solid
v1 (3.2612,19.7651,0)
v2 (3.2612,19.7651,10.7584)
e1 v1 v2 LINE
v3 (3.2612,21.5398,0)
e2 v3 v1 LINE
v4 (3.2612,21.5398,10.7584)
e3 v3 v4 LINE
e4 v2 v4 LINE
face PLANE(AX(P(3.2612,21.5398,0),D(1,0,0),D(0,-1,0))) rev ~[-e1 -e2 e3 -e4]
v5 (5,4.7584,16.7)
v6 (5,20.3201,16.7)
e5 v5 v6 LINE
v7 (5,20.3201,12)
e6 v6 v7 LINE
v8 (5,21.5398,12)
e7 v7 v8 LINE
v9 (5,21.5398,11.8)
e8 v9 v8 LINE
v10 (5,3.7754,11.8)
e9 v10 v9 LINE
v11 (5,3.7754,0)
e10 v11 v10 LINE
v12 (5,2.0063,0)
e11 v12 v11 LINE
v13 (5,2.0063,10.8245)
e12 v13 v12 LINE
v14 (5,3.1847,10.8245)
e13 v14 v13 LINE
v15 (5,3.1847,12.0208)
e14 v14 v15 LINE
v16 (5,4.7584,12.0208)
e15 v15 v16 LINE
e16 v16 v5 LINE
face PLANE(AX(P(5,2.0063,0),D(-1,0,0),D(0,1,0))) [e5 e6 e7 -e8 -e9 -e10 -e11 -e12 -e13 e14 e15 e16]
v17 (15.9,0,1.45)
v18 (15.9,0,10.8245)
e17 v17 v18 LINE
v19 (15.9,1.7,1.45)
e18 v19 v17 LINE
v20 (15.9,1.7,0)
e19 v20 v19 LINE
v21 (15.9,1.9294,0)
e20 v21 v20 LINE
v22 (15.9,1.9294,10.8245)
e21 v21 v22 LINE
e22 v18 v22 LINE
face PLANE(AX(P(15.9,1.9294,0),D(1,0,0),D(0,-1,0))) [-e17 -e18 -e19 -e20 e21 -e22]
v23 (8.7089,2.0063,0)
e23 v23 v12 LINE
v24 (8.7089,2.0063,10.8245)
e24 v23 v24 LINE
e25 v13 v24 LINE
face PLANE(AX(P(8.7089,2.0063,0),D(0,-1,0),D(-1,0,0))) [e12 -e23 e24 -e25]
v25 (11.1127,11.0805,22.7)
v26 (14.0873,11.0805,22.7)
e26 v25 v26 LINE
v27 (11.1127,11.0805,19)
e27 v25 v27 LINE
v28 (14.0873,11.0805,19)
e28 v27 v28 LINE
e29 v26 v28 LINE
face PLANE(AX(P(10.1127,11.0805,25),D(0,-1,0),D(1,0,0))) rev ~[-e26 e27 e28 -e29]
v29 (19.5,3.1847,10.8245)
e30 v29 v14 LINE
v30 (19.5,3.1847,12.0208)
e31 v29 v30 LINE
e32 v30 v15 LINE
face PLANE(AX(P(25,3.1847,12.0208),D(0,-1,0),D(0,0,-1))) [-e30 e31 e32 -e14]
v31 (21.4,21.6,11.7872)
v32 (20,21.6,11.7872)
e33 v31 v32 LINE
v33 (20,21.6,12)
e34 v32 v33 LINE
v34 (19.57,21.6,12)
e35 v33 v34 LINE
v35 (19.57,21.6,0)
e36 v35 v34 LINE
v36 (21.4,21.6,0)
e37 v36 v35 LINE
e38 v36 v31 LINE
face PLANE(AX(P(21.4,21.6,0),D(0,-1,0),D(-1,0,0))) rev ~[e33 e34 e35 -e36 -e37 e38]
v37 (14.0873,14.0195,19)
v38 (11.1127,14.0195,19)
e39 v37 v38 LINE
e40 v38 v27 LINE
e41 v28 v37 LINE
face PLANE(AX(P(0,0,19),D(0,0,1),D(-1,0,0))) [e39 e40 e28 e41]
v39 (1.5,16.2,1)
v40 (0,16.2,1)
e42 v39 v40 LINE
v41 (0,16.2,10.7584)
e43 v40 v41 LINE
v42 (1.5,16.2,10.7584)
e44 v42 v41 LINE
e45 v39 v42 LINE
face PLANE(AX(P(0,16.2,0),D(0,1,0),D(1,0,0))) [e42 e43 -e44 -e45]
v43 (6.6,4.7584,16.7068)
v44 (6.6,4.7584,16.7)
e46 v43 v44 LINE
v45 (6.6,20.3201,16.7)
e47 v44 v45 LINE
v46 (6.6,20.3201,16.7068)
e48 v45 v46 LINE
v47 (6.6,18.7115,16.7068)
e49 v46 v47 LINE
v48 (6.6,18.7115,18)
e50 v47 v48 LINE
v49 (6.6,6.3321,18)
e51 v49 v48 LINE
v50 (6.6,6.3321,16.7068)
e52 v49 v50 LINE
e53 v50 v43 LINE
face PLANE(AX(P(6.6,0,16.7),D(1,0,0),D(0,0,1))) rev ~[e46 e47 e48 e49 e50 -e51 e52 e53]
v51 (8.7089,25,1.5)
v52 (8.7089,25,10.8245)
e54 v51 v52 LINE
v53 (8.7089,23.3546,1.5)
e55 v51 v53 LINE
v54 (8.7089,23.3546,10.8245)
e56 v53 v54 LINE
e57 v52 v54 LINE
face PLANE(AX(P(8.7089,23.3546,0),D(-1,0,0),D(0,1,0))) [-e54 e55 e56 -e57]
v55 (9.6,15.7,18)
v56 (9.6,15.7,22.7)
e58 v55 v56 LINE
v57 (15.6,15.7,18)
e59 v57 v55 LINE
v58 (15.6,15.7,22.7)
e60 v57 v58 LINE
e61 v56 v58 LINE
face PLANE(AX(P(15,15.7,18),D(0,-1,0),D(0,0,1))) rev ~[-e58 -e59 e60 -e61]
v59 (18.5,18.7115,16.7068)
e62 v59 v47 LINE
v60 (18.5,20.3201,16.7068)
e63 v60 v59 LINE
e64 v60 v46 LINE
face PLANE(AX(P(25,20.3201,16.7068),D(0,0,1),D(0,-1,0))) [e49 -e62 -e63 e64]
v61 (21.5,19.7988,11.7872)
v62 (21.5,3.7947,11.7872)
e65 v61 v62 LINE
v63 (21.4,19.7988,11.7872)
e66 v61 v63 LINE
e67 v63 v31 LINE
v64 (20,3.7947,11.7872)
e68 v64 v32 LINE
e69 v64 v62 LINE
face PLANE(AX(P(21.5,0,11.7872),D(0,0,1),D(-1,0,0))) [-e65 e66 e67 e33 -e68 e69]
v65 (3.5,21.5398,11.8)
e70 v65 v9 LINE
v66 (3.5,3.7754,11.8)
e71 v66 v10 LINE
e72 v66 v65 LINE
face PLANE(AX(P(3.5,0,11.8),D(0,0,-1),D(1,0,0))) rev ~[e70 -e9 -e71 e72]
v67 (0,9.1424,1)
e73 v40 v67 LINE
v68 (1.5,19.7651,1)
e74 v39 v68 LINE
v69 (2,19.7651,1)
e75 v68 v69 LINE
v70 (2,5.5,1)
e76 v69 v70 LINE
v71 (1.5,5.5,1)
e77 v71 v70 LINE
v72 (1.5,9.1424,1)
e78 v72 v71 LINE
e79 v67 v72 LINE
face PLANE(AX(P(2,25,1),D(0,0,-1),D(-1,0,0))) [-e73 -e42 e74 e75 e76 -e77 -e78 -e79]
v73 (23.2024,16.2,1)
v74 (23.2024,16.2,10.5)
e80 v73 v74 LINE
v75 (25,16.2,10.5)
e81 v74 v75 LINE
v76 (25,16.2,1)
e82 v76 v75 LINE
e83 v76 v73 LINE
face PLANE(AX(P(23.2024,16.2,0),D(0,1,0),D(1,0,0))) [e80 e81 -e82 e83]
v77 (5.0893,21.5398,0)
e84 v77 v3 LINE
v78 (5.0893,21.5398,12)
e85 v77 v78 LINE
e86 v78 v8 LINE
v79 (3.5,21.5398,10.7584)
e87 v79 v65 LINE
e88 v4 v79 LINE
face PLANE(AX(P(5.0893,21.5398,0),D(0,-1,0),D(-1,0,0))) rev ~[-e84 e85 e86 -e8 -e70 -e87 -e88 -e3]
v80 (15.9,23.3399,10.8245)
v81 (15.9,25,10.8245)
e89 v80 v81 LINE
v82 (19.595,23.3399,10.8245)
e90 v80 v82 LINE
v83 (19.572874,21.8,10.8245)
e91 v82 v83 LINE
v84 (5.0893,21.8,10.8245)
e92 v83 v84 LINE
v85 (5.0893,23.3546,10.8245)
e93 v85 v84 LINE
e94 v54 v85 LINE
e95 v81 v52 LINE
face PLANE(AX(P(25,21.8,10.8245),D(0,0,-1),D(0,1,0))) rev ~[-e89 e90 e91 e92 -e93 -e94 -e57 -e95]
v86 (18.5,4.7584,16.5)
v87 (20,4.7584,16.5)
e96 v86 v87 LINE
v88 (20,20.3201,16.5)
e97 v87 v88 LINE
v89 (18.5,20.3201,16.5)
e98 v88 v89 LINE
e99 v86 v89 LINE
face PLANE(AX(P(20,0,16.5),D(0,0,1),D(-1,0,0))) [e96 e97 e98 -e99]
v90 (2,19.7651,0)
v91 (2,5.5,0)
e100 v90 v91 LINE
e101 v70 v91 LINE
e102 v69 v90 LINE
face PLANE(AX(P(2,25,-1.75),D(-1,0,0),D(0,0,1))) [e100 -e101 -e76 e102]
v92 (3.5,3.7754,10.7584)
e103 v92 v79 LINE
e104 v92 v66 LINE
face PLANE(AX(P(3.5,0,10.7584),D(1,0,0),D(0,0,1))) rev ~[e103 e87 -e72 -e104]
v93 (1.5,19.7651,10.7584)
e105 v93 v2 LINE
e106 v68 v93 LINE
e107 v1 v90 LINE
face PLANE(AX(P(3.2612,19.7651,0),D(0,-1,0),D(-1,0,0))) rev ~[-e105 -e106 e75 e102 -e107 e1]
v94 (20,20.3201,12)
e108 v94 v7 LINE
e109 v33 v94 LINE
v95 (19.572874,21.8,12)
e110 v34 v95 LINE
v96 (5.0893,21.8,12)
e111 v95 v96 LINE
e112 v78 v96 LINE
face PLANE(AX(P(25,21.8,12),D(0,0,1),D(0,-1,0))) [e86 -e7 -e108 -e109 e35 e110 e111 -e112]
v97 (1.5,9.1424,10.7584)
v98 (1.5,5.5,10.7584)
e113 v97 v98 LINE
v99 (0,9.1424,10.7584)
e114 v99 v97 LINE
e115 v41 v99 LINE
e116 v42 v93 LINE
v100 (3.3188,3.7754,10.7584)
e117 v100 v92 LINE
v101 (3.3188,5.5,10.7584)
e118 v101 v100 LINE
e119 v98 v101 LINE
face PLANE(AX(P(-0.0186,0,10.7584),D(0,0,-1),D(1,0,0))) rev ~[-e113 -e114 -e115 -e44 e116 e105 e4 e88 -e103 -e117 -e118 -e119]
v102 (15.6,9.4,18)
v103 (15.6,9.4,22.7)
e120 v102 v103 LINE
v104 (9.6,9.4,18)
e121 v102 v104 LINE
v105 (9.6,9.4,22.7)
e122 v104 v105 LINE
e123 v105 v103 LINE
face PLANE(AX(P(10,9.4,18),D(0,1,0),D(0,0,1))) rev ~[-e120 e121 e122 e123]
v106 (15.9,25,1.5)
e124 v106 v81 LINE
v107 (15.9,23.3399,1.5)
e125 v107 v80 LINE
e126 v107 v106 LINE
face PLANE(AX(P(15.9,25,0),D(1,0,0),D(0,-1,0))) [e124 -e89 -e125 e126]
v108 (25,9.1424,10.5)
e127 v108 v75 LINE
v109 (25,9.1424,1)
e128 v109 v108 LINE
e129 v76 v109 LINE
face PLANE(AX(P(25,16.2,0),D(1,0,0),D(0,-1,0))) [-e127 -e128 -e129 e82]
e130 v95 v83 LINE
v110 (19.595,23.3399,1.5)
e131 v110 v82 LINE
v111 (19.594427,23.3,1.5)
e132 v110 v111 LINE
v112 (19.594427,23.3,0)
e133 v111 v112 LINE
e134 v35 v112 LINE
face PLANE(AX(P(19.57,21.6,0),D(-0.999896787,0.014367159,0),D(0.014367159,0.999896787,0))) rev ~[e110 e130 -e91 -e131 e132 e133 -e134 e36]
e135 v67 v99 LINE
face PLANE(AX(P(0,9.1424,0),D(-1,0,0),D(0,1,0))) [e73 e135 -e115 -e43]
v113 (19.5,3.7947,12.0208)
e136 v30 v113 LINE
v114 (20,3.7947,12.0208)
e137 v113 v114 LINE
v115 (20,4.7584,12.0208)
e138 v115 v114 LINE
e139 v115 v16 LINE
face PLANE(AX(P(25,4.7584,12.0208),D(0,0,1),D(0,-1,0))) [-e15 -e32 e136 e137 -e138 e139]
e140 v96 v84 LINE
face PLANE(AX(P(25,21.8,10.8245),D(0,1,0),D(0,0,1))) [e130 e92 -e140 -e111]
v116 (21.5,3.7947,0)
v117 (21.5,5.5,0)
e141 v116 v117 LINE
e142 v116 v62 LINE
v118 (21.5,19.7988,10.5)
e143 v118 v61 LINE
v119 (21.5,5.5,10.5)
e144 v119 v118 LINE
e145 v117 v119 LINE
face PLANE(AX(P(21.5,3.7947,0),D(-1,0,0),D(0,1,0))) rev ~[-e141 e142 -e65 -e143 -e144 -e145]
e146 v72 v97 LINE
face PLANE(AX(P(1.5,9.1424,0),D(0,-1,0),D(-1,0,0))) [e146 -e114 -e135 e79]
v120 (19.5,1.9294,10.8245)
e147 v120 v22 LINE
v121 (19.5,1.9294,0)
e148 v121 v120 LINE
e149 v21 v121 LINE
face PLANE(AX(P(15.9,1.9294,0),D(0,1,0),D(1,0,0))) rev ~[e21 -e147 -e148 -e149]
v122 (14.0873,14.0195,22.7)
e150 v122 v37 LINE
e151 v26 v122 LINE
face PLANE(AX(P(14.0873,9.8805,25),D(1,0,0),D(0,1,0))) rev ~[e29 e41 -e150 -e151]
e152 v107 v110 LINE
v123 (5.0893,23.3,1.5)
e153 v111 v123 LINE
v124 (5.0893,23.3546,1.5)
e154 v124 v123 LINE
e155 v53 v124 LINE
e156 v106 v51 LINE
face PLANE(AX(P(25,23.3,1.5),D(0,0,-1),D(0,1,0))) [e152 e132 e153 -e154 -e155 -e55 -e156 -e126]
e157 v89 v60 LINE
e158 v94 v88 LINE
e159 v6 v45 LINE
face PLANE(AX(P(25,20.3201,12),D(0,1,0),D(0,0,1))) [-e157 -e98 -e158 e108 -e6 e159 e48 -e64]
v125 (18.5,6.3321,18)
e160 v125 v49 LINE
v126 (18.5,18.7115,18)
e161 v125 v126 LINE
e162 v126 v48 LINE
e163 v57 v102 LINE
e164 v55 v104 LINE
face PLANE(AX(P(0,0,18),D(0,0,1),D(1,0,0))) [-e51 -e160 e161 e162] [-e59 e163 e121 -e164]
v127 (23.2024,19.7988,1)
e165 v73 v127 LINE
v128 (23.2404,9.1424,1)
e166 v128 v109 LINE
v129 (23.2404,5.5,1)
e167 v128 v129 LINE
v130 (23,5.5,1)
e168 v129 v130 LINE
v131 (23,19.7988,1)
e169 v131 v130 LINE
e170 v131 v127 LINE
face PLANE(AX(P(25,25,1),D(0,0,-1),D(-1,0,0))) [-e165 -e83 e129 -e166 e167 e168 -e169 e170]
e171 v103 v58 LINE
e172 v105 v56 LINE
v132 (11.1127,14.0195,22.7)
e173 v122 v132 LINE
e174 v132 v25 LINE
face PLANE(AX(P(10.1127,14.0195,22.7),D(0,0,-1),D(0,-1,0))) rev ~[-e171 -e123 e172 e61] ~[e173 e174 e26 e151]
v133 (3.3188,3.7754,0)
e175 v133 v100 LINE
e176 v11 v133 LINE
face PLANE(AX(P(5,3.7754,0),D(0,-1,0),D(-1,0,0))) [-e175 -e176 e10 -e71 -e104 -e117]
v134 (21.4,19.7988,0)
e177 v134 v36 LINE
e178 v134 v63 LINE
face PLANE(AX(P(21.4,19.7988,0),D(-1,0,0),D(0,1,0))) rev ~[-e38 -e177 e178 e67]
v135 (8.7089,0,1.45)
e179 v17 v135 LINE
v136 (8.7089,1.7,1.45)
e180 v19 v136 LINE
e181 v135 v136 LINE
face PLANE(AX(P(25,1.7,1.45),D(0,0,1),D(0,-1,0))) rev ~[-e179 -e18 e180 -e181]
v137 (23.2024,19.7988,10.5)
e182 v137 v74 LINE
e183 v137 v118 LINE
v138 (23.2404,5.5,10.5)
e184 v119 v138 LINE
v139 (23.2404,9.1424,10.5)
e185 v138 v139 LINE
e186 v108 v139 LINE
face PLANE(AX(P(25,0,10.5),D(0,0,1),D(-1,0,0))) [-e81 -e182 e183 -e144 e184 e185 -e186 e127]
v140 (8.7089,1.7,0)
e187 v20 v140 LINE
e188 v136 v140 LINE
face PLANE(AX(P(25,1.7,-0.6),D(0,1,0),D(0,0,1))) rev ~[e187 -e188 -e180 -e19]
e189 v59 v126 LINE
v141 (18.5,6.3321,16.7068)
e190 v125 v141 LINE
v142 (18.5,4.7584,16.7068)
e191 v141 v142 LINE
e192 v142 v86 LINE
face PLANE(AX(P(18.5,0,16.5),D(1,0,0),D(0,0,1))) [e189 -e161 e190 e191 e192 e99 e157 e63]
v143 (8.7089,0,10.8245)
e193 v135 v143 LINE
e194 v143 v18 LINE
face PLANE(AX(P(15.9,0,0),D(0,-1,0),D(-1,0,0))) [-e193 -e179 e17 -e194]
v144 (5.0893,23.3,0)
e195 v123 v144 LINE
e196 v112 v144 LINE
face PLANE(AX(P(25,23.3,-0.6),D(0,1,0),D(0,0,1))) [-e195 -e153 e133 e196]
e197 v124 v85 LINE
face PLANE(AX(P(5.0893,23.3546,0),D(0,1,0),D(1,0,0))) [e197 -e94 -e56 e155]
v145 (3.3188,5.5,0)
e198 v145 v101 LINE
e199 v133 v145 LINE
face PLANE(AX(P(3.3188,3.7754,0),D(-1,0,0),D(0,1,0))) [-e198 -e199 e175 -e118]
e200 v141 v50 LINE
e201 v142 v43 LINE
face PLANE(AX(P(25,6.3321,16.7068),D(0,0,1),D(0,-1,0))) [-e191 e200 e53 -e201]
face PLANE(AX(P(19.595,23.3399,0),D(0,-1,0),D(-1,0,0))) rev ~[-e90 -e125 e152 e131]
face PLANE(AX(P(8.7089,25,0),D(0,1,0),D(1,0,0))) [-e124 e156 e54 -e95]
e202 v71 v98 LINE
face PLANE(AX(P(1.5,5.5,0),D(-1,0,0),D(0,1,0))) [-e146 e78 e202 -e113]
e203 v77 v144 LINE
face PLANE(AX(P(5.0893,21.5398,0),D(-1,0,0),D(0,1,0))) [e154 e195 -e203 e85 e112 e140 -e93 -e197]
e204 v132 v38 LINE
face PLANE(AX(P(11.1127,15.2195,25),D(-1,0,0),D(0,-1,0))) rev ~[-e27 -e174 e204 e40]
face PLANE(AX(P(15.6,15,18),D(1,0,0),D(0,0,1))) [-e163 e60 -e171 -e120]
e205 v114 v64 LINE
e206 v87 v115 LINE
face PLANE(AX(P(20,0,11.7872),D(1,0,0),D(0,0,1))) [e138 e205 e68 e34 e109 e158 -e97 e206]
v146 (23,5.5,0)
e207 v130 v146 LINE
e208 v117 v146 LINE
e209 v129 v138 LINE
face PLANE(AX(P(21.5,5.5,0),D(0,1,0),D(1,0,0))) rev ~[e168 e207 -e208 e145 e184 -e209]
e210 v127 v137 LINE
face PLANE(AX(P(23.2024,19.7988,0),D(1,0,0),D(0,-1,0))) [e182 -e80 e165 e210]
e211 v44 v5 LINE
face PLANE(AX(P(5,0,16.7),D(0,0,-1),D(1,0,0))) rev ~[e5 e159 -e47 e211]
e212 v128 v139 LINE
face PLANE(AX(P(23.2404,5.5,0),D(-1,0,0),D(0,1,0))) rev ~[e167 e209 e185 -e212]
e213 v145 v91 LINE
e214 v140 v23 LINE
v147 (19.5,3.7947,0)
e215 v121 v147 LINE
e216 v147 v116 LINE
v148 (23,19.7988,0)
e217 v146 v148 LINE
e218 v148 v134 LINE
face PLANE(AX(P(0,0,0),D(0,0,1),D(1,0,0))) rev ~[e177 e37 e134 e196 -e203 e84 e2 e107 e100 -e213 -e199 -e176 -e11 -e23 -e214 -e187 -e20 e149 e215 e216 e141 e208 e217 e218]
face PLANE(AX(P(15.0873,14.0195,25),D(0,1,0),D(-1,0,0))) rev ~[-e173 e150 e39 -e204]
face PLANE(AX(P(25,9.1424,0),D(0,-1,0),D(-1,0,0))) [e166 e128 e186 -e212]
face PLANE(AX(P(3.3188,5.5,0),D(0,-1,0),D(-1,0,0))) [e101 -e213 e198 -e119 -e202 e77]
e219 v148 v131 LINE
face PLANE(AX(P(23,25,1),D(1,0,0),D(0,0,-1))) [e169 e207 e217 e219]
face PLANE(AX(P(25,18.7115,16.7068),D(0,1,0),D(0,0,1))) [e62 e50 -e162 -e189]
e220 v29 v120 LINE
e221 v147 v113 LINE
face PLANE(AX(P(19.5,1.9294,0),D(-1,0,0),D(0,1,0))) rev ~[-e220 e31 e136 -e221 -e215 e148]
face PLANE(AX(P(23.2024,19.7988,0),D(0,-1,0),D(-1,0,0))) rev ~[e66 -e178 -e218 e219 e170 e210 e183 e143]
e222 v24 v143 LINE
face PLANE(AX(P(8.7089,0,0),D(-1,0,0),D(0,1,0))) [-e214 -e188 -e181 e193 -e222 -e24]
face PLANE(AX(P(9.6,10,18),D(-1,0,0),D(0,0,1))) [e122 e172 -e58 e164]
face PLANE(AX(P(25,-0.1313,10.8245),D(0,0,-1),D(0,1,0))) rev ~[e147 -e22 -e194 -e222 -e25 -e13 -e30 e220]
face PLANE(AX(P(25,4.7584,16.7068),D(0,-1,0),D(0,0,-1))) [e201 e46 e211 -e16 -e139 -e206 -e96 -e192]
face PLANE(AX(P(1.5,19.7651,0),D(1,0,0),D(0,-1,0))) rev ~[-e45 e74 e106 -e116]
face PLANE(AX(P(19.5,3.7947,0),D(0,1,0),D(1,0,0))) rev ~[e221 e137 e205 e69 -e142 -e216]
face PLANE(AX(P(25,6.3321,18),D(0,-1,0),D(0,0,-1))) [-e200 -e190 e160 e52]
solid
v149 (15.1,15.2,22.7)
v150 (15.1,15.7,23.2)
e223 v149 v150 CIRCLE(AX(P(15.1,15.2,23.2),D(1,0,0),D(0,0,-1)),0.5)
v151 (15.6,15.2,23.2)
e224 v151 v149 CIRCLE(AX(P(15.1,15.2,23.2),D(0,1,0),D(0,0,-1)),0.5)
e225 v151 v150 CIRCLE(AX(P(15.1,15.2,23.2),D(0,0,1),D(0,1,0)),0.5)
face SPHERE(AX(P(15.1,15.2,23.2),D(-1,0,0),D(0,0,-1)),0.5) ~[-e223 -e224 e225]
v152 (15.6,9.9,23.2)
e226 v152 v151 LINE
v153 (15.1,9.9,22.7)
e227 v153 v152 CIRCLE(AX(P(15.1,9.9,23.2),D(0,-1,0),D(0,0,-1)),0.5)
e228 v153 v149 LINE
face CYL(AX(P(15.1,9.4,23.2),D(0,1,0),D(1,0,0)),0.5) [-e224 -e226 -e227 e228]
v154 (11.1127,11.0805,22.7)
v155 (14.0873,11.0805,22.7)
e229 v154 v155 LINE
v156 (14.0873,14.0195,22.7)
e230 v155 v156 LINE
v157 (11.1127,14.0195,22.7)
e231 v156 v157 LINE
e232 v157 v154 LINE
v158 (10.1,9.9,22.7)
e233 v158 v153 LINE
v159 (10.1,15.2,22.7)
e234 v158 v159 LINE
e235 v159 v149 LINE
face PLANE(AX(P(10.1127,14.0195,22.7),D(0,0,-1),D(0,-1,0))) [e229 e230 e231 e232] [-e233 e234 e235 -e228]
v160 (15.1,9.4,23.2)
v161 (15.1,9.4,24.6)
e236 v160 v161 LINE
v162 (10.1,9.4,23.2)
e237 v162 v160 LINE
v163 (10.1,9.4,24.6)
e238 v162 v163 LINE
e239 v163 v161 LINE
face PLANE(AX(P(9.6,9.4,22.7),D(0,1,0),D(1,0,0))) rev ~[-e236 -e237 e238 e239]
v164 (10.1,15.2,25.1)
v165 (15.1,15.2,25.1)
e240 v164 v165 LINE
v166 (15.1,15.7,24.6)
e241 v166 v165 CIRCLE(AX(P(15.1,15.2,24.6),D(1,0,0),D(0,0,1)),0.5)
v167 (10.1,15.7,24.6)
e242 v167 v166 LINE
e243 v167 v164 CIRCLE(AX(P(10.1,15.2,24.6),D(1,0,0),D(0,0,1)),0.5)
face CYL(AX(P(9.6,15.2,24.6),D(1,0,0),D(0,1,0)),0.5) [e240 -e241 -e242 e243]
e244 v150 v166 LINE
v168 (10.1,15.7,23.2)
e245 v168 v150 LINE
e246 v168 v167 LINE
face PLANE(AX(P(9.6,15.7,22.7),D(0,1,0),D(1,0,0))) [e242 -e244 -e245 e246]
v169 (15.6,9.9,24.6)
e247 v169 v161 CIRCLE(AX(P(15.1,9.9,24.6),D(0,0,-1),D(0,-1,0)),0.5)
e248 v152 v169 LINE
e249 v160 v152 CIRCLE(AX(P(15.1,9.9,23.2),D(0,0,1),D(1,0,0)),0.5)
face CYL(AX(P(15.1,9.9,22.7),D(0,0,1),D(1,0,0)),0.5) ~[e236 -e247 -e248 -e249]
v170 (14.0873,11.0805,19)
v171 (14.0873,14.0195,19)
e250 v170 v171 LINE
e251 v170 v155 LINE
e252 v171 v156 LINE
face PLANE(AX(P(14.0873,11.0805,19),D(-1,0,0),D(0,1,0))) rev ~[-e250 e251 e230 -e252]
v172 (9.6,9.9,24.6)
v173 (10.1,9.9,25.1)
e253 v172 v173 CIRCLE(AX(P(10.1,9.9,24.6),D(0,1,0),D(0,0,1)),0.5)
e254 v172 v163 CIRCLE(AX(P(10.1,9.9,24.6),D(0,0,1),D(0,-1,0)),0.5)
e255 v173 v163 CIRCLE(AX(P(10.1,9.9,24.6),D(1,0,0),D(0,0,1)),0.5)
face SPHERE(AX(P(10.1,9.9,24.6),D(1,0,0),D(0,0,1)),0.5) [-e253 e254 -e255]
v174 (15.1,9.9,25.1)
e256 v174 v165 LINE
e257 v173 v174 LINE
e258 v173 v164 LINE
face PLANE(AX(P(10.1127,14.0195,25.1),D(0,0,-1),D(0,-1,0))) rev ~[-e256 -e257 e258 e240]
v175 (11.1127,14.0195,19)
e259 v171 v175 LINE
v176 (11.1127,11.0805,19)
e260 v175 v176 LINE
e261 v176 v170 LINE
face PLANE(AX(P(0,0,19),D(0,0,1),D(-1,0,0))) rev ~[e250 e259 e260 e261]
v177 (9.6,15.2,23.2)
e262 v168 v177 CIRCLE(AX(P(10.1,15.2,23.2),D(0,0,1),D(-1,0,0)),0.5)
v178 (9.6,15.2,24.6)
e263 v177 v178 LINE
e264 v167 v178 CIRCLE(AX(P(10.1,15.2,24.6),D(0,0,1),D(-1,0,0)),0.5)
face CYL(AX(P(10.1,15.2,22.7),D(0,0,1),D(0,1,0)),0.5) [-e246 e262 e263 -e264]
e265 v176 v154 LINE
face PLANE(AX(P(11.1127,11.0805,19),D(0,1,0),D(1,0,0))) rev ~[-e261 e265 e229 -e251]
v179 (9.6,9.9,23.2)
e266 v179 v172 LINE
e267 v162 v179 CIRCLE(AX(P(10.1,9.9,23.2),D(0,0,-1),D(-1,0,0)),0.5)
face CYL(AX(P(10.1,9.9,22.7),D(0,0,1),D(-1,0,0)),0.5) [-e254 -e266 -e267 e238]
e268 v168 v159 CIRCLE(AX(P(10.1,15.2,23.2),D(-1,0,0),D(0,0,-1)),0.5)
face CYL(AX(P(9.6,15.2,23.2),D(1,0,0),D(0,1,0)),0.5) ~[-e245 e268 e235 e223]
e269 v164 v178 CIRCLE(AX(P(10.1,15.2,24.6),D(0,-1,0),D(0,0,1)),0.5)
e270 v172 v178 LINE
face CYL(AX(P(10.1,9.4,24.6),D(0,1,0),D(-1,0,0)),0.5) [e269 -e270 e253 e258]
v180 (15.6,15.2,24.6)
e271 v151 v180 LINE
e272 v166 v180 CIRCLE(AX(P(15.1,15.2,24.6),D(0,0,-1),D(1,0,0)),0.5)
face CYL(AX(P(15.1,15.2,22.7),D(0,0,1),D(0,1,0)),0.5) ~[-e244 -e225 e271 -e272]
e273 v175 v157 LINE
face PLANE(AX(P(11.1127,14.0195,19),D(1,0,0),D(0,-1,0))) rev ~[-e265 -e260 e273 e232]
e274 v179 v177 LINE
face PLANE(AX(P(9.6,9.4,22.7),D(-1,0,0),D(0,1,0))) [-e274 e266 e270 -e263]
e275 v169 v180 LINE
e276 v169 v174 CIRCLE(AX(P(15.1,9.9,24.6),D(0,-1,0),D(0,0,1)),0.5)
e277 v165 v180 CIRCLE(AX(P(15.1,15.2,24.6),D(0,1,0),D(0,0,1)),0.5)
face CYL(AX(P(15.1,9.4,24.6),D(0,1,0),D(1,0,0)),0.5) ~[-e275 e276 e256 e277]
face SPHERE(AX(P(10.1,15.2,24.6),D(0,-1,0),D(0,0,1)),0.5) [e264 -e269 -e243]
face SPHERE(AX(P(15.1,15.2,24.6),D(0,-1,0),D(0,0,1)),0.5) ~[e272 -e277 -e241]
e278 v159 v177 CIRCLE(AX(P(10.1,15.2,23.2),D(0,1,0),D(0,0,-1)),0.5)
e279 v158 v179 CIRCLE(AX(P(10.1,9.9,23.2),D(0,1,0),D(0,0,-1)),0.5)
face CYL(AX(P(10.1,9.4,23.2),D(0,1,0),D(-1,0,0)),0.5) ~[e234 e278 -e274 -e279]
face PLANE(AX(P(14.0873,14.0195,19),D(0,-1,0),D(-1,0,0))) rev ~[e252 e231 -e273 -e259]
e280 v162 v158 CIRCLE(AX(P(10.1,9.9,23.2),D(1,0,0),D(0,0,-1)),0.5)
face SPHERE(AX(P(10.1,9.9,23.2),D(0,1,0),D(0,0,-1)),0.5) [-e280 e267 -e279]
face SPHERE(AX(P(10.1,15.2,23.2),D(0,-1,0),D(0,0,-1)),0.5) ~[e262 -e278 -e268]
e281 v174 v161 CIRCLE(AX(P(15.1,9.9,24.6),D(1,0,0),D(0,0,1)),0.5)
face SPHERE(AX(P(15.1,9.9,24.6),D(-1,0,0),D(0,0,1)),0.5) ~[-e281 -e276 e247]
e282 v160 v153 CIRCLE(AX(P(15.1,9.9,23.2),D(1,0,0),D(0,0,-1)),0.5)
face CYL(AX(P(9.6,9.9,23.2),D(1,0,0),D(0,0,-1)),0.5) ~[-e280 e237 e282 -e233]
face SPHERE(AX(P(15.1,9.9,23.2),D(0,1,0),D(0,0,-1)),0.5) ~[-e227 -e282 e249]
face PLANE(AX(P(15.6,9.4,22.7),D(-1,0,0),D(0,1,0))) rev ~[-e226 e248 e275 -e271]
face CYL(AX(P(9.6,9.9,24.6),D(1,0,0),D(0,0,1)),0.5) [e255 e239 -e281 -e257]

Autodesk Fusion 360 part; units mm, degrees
sketch "Esquisse1" plane through (0, 0, 0) normal (0, 0, 1) x (1, 0, 0)
  line L0 (25, 25) -> (-25, 25)
  line L1 (-25, 25) -> (-25, -25)
  line L2 (-25, -25) -> (25, -25)
  line L3 (25, -25) -> (25, 25)
  line L4 (25, 25) -> (-25, -25) construction
  line L5 (-25, 25) -> (25, -25) construction
sketch "Esquisse2" plane through (0, 0, 0) normal (0, 0, 1) x (1, 0, 0)
  line L0 (25, 0) -> (0, 0)
  line L1 (0, 0) -> (0, 25)
  line L2 (0, 25) -> (25, 25)
  line L3 (25, 25) -> (25, 0)
  line L4 (25, 9.1424) -> (0, 9.1424)
  line L5 (0, 9.1424) -> (0, 16.2)
  line L6 (0, 16.2) -> (25, 16.2)
  line L7 (25, 16.2) -> (25, 9.1424)
  line L8 (15.9, 0) -> (8.7089, 0)
  line L9 (8.7089, 0) -> (8.7089, 25)
  line L10 (8.7089, 25) -> (15.9, 25)
  line L11 (15.9, 25) -> (15.9, 0)
  line L12 (23.2024, 19.7988) -> (23.2024, 16.2)
  line L13 (19.595, 23.3399) -> (15.9, 23.3399)
  line L14 (23.2024, 19.7988) -> (21.4, 19.7988)
  line L15 (21.4, 19.7988) -> (21.4, 21.6)
  line L16 (21.4, 21.6) -> (19.57, 21.6)
  line L17 (19.57, 21.6) -> (19.595, 23.3399)
  line L18 (5.0893, 23.3546) -> (8.7089, 23.3546)
  line L19 (5.0893, 21.5398) -> (5.0893, 23.3546)
  line L20 (5.0893, 21.5398) -> (3.2612, 21.5398)
  line L21 (3.2612, 21.5398) -> (3.2612, 19.7651)
  line L22 (3.2612, 19.7651) -> (1.5, 19.7651)
  line L23 (1.5, 19.7651) -> (1.5, 16.2)
  line L24 (8.7089, 2.0063) -> (5, 2.0063)
  line L25 (5, 2.0063) -> (5, 3.7754)
  line L26 (5, 3.7754) -> (3.3188, 3.7754)
  line L27 (3.3188, 3.7754) -> (3.3188, 5.5)
  line L28 (3.3188, 5.5) -> (1.5, 5.5)
  line L29 (1.5, 5.5) -> (1.5, 9.1424)
  line L30 (15.9, 1.9294) -> (19.5, 1.9294)
  line L31 (19.5, 1.9294) -> (19.5, 3.7947)
  line L32 (19.5, 3.7947) -> (21.5, 3.7947)
  line L33 (21.5, 3.7947) -> (21.5, 5.5)
  line L34 (21.5, 5.5) -> (23.2404, 5.5)
  line L35 (23.2404, 5.5) -> (23.2404, 9.1424)
extrude "Extrusion2" add sketch "Esquisse2" along normal blind 18 contours L0 L4 L8 L9 L11 | L3 L4 L6 L7 L11 | L4 L11 L30 L31 L32 L33 L34 L35 | L4 L9 L24 L25 L26 L27 L28 L29 | L4 L6 L9 L11 | L6 L11 L12 L13 L14 L15 L16 L17 | L1 L4 L5 L6 L9 | L2 L6 L9 L10 L11 | L6 L9 L18 L19 L20 L21 L22 L23 makes body 1
sketch "Esquisse3" plane through (0, 0, 0) normal (0, 1, 0) x (1, 0, 0)
  line L0 (25, -10.5) -> (21.5, -10.5)
  line L1 (21.5, -10.5) -> (21.5, -11.7872)
  line L2 (21.5, -11.7872) -> (20, -11.7872)
  line L3 (20, -11.7872) -> (20, -16.5)
  line L4 (20, -16.5) -> (18.5, -16.5)
  line L5 (18.5, -16.5) -> (18.5, -18)
  line L6 (18.5, -18) -> (15.5, -18)
  line L7 (15.5, -18) -> (15.5, -22.7294)
  line L8 (15.5, -22.7294) -> (14, -22.7294)
  line L9 (14, -22.7294) -> (14, -18)
  line L10 (14, -18) -> (15.5, -18)
  line L11 (-0.0186, -10.7584) -> (3.5, -10.7584)
  line L12 (3.5, -10.7584) -> (3.5, -11.8)
  line L13 (3.5, -11.8) -> (5, -11.8)
  line L14 (5, -11.8) -> (5, -16.7)
  line L15 (5, -16.7) -> (6.6, -16.7)
  line L16 (6.6, -16.7) -> (6.6, -18)
  line L17 (6.6, -18) -> (9.5, -18)
  line L18 (9.5, -18) -> (9.5, -22.7)
  line L19 (9.5, -22.7) -> (11.1, -22.7)
  line L20 (11.1, -22.7) -> (11.1, -18)
  line L21 (11.1, -18) -> (9.5, -18)
  line L22 (9.5, -22.7) -> (0, -22.7)
  line L23 (0, -22.7) -> (-0.0186, -10.7584)
  line L24 (15.5, -22.7294) -> (25, -22.7294)
  line L25 (25, -22.7294) -> (25, -10.5)
extrude "Extrusion3" cut sketch "Esquisse3" along normal blind 39 contours L0 L1 L2 L3 L4 L5 L6 L7 L24 L25 | L11 L12 L13 L14 L15 L16 L17 L18 L22 L23 bodies 1
sketch "Esquisse4" plane through (0, 25, 0) normal (0, 1, 0) x (-1, 0, 0)
  line L0 (-15.9, 0) -> (-8.7089, 0)
  line L1 (-8.7089, 0) -> (-8.7089, 18)
  line L2 (-8.7089, 18) -> (-15.9, 18)
  line L3 (-15.9, 18) -> (-15.9, 0)
  line L4 (-25, 1) -> (-23, 1)
  line L5 (-23, 1) -> (-23, -0.7028)
  line L6 (-23, -0.7028) -> (-25, -0.7028)
  line L7 (-25, -0.7028) -> (-25, 1)
  line L8 (-2, 1) -> (1, 1)
  line L9 (1, 1) -> (1, -1.75)
  line L10 (1, -1.75) -> (-2, -1.75)
  line L11 (-2, -1.75) -> (-2, 1)
extrude "Extrusion4" cut sketch "Esquisse4" against normal blind 27 contours L4 L5 L6 L7 | L8 L9 L10 L11 bodies 1
sketch "Esquisse5" plane through (25, 0, 0) normal (1, 0, 0) x (0, 1, 0)
  line L0 (9.1424, 1) -> (16.2, 1)
  line L1 (16.2, 1) -> (16.2, 10.5)
  line L2 (16.2, 10.5) -> (9.1424, 10.5)
  line L3 (9.1424, 10.5) -> (9.1424, 1)
  line L4 (-0.1313, 10.8245) -> (28, 10.8245)
  line L5 (28, 10.8245) -> (28, 18)
  line L6 (28, 18) -> (-0.1313, 18)
  line L7 (-0.1313, 18) -> (-0.1313, 10.8245)
  line L8 (3.1847, 10.8245) -> (-0.1313, 10.8245)
  line L9 (-0.1313, 10.8245) -> (-0.1313, 18)
  line L10 (-0.1313, 18) -> (3.1847, 18)
  line L11 (3.1847, 18) -> (3.1847, 10.8245)
  line L12 (4.7584, 12.0208) -> (3.1847, 12.0208)
  line L13 (3.1847, 12.0208) -> (3.1847, 18)
  line L14 (3.1847, 18) -> (4.7584, 18)
  line L15 (4.7584, 18) -> (4.7584, 12.0208)
  line L16 (6.3321, 16.7068) -> (4.7584, 16.7068)
  line L17 (4.7584, 16.7068) -> (4.7584, 18)
  line L18 (4.7584, 18) -> (6.3321, 18)
  line L19 (6.3321, 18) -> (6.3321, 16.7068)
  line L20 (18.7115, 18) -> (28, 18)
  line L21 (28, 18) -> (28, 16.7068)
  line L22 (28, 16.7068) -> (18.7115, 16.7068)
  line L23 (18.7115, 16.7068) -> (18.7115, 18)
  line L24 (20.3201, 16.7068) -> (28, 16.7068)
  line L25 (28, 16.7068) -> (28, 12)
  line L26 (28, 12) -> (20.3201, 12)
  line L27 (20.3201, 12) -> (20.3201, 16.7068)
  line L28 (28, 10.8245) -> (21.8, 10.8245)
  line L29 (21.8, 10.8245) -> (21.8, 12)
  line L30 (21.8, 12) -> (28, 12)
  line L31 (28, 12) -> (28, 10.8245)
extrude "Extrusion5" cut sketch "Esquisse5" against normal blind 32 contours L4 L6 L7 L8 L9 L10 L11 L13 | L4 L5 L26 L28 L29 L30 L31 | L6 L11 L12 L13 L14 L15 L17 | L5 L22 L24 L25 L26 L27 L30 | L6 L15 L16 L17 L18 L19 | L5 L6 L20 L21 L22 L23 L24 bodies 1
sketch "Esquisse6" plane through (25, 0, 0) normal (1, 0, 0) x (0, 1, 0)
  line L0 (9.1424, 1) -> (16.2, 1)
  line L1 (16.2, 1) -> (16.2, 10.5)
  line L2 (16.2, 10.5) -> (9.1424, 10.5)
  line L3 (9.1424, 10.5) -> (9.1424, 1)
  line L4 (23.3, 1.5) -> (25.7, 1.5)
  line L5 (25.7, 1.5) -> (25.7, -0.6)
  line L6 (25.7, -0.6) -> (23.3, -0.6)
  line L7 (23.3, -0.6) -> (23.3, 1.5)
  line L8 (1.7, 1.45) -> (-0.9, 1.45)
  line L9 (-0.9, 1.45) -> (-0.9, -0.6)
  line L10 (-0.9, -0.6) -> (1.7, -0.6)
  line L11 (1.7, -0.6) -> (1.7, 1.45)
extrude "Extrusion6" cut sketch "Esquisse6" against normal blind 26 contours L4 L5 L6 L7 | L8 L9 L10 L11 bodies 1
sketch "Esquisse7" plane through (0, 0, 18) normal (0, 0, 1) x (-1, 0, 0)
  line L0 (-6.6, -6.3321) -> (-18.5, -6.3321)
  line L1 (-18.5, -6.3321) -> (-18.5, -18.7115)
  line L2 (-18.5, -18.7115) -> (-6.6, -18.7115)
  line L3 (-6.6, -18.7115) -> (-6.6, -6.3321)
  line L4 (-15, -10) -> (-10, -10)
  line L5 (-10, -10) -> (-10, -15)
  line L6 (-10, -15) -> (-15, -15)
  line L7 (-15, -15) -> (-15, -10)
extrude "Extrusion7" add sketch "Esquisse7" along normal blind 7 contours L4 L5 L6 L7 bodies 1
extrude "Extrusion8" add 1 faces at (10, 11.6667, 20.3333) along direction (-1, 0, 0) blind 0.4 on bodies 1 bodies 1
extrude "Extrusion9" add 1 faces at (15, 13.3333, 20.3333) along direction (1, 0, 0) blind 0.6 on bodies 1 bodies 1
extrude "Extrusion10" add 1 faces at (13.6, 15, 20.3333) along direction (0, 1, 0) blind 0.7 on bodies 1 bodies 1
extrude "Extrusion11" add 1 faces at (11.6, 10, 20.3333) along direction (0, -1, 0) blind 0.6 on bodies 1 bodies 1
sketch "Esquisse8" plane through (0, 0, 25) normal (0, 0, 1) x (-1, 0, 0)
  line L0 (-9.6, -15.7) -> (-9.6, -9.4)
  line L1 (-9.6, -9.4) -> (-15.6, -9.4)
  line L2 (-15.6, -9.4) -> (-15.6, -15.7)
  line L3 (-15.6, -15.7) -> (-9.6, -15.7)
  line L4 (-15.0873, -15.2195) -> (-10.1127, -15.2195)
  line L5 (-10.1127, -15.2195) -> (-10.1127, -9.8805)
  line L6 (-10.1127, -9.8805) -> (-15.0873, -9.8805)
  line L7 (-15.0873, -9.8805) -> (-15.0873, -15.2195)
  line L8 (-15.0873, -15.2195) -> (-10.1127, -9.8805) construction
  point P0 (-12.6, -12.55)
extrude "Extrusion12" cut sketch "Esquisse8" against normal blind 6 contours L4 L5 L6 L7 bodies 1
extrude "Extrusion13" add 1 faces at (13.4291, 15.2195, 23) along direction (0, -1, 0) blind 1.2 on bodies 1 bodies 1
extrude "Extrusion14" add 1 faces at (11.7709, 9.8805, 23) along direction (0, 1, 0) blind 1.2 on bodies 1 bodies 1
extrude "Extrusion15" add 1 faces at (15.0873, 12.0602, 23) along direction (-1, 0, 0) blind 1 on bodies 1 bodies 1
extrude "Extrusion16" add 1 faces at (10.1127, 13.0398, 23) along direction (1, 0, 0) blind 1 on bodies 1 bodies 1
extrude "Extrusion17" cut 1 faces at (12.1042, 15.1398, 25) along direction (0, 0, -1) blind 2.3 on bodies 1 bodies 1
extrude "Extrusion18" add 1 faces at (12.1042, 12.0602, 19) along direction (0, 0, 1) blind 3.7 separate body on bodies 1 makes body 2
extrude "Extrusion19" add 2 faces at (12.1042, 15.1398, 22.7) (12.1042, 12.0602, 22.7) along direction (0, 0, 1) blind 2.4 separate body on bodies 1 2 makes body 3
fillet "Congé1" radius 0.5 12 edges at (12.6, 9.4, 25.1) (9.6, 12.55, 25.1) (15.6, 12.55, 25.1) (12.6, 15.7, 25.1) (9.6, 12.55, 22.7) (12.6, 15.7, 22.7) (15.6, 12.55, 22.7) (12.6, 9.4, 22.7) (15.6, 9.4, 23.9) (9.6, 9.4, 23.9) (9.6, 15.7, 23.9) (15.6, 15.7, 23.9) on bodies 3
combine "Combiner1" operation add target body 3 tool bodies 2
sketch "Esquisse9" plane through (0, 0, 0) normal (0, 0, 1) x (1, 0, 0)
  line L0 (-15, -15) -> (-25, -15)
  line L1 (-25, -15) -> (-25, -25)
  line L2 (-25, -25) -> (-15, -25)
  line L3 (-15, -25) -> (-15, -15)
sketch "Esquisse10" plane through (0, 0, 2.5) normal (0, 0, 1) x (-1, 0, 0)
  line L0 (15, 25) -> (15, 15)
  line L1 (15, 15) -> (25, 15)
  line L2 (25, 15) -> (25, 25)
  line L3 (25, 25) -> (15, 25)
  line L4 (10, 10) -> (30, 10)
  line L5 (30, 10) -> (30, 30)
  line L6 (30, 30) -> (10, 30)
  line L7 (10, 30) -> (10, 10)
  line L8 (10, 10) -> (30, 30) construction
  line L9 (30, 10) -> (10, 30) construction
  point P0 (20, 20)
sketch "Esquisse11" plane through (0, 0, 5) normal (0, 0, 1) x (-1, 0, 0)
  line L0 (15, 25) -> (25, 25)
  line L1 (25, 25) -> (25, 15)
  line L2 (25, 15) -> (15, 15)
  line L3 (15, 15) -> (15, 25)
  line L4 (10, 30) -> (10, 10)
  line L5 (10, 10) -> (30, 10)
  line L6 (30, 10) -> (30, 30)
  line L7 (30, 30) -> (10, 30)
  line L8 (7, 7) -> (33, 7)
  line L9 (33, 7) -> (33, 33)
  line L10 (33, 33) -> (7, 33)
  line L11 (7, 33) -> (7, 7)
  line L12 (7, 7) -> (33, 33) construction
  line L13 (33, 7) -> (7, 33) construction
  point P0 (20, 20)
sketch "Esquisse12" plane through (-7, 0, 0) normal (1, 0, 0) x (0, 1, 0)
  line L0 (-7, 7.5) -> (-7, 26.5)
  line L1 (-7, 26.5) -> (-33, 26.5)
  line L2 (-33, 26.5) -> (-33, 7.5)
  line L3 (-33, 7.5) -> (-7, 7.5)
sketch "Esquisse13" plane through (0, 0, 26.5) normal (0, 0, 1) x (-1, 0, 0)
  line L0 (10, 30) -> (30, 30)
  line L1 (30, 30) -> (30, 10)
  line L2 (30, 10) -> (10, 10)
  line L3 (10, 10) -> (10, 30)
  line L4 (7, 33) -> (7, 7)
  line L5 (7, 7) -> (33, 7)
  line L6 (33, 7) -> (33, 33)
  line L7 (33, 33) -> (7, 33)
  circle A0 centre (20, 20) radius 13
